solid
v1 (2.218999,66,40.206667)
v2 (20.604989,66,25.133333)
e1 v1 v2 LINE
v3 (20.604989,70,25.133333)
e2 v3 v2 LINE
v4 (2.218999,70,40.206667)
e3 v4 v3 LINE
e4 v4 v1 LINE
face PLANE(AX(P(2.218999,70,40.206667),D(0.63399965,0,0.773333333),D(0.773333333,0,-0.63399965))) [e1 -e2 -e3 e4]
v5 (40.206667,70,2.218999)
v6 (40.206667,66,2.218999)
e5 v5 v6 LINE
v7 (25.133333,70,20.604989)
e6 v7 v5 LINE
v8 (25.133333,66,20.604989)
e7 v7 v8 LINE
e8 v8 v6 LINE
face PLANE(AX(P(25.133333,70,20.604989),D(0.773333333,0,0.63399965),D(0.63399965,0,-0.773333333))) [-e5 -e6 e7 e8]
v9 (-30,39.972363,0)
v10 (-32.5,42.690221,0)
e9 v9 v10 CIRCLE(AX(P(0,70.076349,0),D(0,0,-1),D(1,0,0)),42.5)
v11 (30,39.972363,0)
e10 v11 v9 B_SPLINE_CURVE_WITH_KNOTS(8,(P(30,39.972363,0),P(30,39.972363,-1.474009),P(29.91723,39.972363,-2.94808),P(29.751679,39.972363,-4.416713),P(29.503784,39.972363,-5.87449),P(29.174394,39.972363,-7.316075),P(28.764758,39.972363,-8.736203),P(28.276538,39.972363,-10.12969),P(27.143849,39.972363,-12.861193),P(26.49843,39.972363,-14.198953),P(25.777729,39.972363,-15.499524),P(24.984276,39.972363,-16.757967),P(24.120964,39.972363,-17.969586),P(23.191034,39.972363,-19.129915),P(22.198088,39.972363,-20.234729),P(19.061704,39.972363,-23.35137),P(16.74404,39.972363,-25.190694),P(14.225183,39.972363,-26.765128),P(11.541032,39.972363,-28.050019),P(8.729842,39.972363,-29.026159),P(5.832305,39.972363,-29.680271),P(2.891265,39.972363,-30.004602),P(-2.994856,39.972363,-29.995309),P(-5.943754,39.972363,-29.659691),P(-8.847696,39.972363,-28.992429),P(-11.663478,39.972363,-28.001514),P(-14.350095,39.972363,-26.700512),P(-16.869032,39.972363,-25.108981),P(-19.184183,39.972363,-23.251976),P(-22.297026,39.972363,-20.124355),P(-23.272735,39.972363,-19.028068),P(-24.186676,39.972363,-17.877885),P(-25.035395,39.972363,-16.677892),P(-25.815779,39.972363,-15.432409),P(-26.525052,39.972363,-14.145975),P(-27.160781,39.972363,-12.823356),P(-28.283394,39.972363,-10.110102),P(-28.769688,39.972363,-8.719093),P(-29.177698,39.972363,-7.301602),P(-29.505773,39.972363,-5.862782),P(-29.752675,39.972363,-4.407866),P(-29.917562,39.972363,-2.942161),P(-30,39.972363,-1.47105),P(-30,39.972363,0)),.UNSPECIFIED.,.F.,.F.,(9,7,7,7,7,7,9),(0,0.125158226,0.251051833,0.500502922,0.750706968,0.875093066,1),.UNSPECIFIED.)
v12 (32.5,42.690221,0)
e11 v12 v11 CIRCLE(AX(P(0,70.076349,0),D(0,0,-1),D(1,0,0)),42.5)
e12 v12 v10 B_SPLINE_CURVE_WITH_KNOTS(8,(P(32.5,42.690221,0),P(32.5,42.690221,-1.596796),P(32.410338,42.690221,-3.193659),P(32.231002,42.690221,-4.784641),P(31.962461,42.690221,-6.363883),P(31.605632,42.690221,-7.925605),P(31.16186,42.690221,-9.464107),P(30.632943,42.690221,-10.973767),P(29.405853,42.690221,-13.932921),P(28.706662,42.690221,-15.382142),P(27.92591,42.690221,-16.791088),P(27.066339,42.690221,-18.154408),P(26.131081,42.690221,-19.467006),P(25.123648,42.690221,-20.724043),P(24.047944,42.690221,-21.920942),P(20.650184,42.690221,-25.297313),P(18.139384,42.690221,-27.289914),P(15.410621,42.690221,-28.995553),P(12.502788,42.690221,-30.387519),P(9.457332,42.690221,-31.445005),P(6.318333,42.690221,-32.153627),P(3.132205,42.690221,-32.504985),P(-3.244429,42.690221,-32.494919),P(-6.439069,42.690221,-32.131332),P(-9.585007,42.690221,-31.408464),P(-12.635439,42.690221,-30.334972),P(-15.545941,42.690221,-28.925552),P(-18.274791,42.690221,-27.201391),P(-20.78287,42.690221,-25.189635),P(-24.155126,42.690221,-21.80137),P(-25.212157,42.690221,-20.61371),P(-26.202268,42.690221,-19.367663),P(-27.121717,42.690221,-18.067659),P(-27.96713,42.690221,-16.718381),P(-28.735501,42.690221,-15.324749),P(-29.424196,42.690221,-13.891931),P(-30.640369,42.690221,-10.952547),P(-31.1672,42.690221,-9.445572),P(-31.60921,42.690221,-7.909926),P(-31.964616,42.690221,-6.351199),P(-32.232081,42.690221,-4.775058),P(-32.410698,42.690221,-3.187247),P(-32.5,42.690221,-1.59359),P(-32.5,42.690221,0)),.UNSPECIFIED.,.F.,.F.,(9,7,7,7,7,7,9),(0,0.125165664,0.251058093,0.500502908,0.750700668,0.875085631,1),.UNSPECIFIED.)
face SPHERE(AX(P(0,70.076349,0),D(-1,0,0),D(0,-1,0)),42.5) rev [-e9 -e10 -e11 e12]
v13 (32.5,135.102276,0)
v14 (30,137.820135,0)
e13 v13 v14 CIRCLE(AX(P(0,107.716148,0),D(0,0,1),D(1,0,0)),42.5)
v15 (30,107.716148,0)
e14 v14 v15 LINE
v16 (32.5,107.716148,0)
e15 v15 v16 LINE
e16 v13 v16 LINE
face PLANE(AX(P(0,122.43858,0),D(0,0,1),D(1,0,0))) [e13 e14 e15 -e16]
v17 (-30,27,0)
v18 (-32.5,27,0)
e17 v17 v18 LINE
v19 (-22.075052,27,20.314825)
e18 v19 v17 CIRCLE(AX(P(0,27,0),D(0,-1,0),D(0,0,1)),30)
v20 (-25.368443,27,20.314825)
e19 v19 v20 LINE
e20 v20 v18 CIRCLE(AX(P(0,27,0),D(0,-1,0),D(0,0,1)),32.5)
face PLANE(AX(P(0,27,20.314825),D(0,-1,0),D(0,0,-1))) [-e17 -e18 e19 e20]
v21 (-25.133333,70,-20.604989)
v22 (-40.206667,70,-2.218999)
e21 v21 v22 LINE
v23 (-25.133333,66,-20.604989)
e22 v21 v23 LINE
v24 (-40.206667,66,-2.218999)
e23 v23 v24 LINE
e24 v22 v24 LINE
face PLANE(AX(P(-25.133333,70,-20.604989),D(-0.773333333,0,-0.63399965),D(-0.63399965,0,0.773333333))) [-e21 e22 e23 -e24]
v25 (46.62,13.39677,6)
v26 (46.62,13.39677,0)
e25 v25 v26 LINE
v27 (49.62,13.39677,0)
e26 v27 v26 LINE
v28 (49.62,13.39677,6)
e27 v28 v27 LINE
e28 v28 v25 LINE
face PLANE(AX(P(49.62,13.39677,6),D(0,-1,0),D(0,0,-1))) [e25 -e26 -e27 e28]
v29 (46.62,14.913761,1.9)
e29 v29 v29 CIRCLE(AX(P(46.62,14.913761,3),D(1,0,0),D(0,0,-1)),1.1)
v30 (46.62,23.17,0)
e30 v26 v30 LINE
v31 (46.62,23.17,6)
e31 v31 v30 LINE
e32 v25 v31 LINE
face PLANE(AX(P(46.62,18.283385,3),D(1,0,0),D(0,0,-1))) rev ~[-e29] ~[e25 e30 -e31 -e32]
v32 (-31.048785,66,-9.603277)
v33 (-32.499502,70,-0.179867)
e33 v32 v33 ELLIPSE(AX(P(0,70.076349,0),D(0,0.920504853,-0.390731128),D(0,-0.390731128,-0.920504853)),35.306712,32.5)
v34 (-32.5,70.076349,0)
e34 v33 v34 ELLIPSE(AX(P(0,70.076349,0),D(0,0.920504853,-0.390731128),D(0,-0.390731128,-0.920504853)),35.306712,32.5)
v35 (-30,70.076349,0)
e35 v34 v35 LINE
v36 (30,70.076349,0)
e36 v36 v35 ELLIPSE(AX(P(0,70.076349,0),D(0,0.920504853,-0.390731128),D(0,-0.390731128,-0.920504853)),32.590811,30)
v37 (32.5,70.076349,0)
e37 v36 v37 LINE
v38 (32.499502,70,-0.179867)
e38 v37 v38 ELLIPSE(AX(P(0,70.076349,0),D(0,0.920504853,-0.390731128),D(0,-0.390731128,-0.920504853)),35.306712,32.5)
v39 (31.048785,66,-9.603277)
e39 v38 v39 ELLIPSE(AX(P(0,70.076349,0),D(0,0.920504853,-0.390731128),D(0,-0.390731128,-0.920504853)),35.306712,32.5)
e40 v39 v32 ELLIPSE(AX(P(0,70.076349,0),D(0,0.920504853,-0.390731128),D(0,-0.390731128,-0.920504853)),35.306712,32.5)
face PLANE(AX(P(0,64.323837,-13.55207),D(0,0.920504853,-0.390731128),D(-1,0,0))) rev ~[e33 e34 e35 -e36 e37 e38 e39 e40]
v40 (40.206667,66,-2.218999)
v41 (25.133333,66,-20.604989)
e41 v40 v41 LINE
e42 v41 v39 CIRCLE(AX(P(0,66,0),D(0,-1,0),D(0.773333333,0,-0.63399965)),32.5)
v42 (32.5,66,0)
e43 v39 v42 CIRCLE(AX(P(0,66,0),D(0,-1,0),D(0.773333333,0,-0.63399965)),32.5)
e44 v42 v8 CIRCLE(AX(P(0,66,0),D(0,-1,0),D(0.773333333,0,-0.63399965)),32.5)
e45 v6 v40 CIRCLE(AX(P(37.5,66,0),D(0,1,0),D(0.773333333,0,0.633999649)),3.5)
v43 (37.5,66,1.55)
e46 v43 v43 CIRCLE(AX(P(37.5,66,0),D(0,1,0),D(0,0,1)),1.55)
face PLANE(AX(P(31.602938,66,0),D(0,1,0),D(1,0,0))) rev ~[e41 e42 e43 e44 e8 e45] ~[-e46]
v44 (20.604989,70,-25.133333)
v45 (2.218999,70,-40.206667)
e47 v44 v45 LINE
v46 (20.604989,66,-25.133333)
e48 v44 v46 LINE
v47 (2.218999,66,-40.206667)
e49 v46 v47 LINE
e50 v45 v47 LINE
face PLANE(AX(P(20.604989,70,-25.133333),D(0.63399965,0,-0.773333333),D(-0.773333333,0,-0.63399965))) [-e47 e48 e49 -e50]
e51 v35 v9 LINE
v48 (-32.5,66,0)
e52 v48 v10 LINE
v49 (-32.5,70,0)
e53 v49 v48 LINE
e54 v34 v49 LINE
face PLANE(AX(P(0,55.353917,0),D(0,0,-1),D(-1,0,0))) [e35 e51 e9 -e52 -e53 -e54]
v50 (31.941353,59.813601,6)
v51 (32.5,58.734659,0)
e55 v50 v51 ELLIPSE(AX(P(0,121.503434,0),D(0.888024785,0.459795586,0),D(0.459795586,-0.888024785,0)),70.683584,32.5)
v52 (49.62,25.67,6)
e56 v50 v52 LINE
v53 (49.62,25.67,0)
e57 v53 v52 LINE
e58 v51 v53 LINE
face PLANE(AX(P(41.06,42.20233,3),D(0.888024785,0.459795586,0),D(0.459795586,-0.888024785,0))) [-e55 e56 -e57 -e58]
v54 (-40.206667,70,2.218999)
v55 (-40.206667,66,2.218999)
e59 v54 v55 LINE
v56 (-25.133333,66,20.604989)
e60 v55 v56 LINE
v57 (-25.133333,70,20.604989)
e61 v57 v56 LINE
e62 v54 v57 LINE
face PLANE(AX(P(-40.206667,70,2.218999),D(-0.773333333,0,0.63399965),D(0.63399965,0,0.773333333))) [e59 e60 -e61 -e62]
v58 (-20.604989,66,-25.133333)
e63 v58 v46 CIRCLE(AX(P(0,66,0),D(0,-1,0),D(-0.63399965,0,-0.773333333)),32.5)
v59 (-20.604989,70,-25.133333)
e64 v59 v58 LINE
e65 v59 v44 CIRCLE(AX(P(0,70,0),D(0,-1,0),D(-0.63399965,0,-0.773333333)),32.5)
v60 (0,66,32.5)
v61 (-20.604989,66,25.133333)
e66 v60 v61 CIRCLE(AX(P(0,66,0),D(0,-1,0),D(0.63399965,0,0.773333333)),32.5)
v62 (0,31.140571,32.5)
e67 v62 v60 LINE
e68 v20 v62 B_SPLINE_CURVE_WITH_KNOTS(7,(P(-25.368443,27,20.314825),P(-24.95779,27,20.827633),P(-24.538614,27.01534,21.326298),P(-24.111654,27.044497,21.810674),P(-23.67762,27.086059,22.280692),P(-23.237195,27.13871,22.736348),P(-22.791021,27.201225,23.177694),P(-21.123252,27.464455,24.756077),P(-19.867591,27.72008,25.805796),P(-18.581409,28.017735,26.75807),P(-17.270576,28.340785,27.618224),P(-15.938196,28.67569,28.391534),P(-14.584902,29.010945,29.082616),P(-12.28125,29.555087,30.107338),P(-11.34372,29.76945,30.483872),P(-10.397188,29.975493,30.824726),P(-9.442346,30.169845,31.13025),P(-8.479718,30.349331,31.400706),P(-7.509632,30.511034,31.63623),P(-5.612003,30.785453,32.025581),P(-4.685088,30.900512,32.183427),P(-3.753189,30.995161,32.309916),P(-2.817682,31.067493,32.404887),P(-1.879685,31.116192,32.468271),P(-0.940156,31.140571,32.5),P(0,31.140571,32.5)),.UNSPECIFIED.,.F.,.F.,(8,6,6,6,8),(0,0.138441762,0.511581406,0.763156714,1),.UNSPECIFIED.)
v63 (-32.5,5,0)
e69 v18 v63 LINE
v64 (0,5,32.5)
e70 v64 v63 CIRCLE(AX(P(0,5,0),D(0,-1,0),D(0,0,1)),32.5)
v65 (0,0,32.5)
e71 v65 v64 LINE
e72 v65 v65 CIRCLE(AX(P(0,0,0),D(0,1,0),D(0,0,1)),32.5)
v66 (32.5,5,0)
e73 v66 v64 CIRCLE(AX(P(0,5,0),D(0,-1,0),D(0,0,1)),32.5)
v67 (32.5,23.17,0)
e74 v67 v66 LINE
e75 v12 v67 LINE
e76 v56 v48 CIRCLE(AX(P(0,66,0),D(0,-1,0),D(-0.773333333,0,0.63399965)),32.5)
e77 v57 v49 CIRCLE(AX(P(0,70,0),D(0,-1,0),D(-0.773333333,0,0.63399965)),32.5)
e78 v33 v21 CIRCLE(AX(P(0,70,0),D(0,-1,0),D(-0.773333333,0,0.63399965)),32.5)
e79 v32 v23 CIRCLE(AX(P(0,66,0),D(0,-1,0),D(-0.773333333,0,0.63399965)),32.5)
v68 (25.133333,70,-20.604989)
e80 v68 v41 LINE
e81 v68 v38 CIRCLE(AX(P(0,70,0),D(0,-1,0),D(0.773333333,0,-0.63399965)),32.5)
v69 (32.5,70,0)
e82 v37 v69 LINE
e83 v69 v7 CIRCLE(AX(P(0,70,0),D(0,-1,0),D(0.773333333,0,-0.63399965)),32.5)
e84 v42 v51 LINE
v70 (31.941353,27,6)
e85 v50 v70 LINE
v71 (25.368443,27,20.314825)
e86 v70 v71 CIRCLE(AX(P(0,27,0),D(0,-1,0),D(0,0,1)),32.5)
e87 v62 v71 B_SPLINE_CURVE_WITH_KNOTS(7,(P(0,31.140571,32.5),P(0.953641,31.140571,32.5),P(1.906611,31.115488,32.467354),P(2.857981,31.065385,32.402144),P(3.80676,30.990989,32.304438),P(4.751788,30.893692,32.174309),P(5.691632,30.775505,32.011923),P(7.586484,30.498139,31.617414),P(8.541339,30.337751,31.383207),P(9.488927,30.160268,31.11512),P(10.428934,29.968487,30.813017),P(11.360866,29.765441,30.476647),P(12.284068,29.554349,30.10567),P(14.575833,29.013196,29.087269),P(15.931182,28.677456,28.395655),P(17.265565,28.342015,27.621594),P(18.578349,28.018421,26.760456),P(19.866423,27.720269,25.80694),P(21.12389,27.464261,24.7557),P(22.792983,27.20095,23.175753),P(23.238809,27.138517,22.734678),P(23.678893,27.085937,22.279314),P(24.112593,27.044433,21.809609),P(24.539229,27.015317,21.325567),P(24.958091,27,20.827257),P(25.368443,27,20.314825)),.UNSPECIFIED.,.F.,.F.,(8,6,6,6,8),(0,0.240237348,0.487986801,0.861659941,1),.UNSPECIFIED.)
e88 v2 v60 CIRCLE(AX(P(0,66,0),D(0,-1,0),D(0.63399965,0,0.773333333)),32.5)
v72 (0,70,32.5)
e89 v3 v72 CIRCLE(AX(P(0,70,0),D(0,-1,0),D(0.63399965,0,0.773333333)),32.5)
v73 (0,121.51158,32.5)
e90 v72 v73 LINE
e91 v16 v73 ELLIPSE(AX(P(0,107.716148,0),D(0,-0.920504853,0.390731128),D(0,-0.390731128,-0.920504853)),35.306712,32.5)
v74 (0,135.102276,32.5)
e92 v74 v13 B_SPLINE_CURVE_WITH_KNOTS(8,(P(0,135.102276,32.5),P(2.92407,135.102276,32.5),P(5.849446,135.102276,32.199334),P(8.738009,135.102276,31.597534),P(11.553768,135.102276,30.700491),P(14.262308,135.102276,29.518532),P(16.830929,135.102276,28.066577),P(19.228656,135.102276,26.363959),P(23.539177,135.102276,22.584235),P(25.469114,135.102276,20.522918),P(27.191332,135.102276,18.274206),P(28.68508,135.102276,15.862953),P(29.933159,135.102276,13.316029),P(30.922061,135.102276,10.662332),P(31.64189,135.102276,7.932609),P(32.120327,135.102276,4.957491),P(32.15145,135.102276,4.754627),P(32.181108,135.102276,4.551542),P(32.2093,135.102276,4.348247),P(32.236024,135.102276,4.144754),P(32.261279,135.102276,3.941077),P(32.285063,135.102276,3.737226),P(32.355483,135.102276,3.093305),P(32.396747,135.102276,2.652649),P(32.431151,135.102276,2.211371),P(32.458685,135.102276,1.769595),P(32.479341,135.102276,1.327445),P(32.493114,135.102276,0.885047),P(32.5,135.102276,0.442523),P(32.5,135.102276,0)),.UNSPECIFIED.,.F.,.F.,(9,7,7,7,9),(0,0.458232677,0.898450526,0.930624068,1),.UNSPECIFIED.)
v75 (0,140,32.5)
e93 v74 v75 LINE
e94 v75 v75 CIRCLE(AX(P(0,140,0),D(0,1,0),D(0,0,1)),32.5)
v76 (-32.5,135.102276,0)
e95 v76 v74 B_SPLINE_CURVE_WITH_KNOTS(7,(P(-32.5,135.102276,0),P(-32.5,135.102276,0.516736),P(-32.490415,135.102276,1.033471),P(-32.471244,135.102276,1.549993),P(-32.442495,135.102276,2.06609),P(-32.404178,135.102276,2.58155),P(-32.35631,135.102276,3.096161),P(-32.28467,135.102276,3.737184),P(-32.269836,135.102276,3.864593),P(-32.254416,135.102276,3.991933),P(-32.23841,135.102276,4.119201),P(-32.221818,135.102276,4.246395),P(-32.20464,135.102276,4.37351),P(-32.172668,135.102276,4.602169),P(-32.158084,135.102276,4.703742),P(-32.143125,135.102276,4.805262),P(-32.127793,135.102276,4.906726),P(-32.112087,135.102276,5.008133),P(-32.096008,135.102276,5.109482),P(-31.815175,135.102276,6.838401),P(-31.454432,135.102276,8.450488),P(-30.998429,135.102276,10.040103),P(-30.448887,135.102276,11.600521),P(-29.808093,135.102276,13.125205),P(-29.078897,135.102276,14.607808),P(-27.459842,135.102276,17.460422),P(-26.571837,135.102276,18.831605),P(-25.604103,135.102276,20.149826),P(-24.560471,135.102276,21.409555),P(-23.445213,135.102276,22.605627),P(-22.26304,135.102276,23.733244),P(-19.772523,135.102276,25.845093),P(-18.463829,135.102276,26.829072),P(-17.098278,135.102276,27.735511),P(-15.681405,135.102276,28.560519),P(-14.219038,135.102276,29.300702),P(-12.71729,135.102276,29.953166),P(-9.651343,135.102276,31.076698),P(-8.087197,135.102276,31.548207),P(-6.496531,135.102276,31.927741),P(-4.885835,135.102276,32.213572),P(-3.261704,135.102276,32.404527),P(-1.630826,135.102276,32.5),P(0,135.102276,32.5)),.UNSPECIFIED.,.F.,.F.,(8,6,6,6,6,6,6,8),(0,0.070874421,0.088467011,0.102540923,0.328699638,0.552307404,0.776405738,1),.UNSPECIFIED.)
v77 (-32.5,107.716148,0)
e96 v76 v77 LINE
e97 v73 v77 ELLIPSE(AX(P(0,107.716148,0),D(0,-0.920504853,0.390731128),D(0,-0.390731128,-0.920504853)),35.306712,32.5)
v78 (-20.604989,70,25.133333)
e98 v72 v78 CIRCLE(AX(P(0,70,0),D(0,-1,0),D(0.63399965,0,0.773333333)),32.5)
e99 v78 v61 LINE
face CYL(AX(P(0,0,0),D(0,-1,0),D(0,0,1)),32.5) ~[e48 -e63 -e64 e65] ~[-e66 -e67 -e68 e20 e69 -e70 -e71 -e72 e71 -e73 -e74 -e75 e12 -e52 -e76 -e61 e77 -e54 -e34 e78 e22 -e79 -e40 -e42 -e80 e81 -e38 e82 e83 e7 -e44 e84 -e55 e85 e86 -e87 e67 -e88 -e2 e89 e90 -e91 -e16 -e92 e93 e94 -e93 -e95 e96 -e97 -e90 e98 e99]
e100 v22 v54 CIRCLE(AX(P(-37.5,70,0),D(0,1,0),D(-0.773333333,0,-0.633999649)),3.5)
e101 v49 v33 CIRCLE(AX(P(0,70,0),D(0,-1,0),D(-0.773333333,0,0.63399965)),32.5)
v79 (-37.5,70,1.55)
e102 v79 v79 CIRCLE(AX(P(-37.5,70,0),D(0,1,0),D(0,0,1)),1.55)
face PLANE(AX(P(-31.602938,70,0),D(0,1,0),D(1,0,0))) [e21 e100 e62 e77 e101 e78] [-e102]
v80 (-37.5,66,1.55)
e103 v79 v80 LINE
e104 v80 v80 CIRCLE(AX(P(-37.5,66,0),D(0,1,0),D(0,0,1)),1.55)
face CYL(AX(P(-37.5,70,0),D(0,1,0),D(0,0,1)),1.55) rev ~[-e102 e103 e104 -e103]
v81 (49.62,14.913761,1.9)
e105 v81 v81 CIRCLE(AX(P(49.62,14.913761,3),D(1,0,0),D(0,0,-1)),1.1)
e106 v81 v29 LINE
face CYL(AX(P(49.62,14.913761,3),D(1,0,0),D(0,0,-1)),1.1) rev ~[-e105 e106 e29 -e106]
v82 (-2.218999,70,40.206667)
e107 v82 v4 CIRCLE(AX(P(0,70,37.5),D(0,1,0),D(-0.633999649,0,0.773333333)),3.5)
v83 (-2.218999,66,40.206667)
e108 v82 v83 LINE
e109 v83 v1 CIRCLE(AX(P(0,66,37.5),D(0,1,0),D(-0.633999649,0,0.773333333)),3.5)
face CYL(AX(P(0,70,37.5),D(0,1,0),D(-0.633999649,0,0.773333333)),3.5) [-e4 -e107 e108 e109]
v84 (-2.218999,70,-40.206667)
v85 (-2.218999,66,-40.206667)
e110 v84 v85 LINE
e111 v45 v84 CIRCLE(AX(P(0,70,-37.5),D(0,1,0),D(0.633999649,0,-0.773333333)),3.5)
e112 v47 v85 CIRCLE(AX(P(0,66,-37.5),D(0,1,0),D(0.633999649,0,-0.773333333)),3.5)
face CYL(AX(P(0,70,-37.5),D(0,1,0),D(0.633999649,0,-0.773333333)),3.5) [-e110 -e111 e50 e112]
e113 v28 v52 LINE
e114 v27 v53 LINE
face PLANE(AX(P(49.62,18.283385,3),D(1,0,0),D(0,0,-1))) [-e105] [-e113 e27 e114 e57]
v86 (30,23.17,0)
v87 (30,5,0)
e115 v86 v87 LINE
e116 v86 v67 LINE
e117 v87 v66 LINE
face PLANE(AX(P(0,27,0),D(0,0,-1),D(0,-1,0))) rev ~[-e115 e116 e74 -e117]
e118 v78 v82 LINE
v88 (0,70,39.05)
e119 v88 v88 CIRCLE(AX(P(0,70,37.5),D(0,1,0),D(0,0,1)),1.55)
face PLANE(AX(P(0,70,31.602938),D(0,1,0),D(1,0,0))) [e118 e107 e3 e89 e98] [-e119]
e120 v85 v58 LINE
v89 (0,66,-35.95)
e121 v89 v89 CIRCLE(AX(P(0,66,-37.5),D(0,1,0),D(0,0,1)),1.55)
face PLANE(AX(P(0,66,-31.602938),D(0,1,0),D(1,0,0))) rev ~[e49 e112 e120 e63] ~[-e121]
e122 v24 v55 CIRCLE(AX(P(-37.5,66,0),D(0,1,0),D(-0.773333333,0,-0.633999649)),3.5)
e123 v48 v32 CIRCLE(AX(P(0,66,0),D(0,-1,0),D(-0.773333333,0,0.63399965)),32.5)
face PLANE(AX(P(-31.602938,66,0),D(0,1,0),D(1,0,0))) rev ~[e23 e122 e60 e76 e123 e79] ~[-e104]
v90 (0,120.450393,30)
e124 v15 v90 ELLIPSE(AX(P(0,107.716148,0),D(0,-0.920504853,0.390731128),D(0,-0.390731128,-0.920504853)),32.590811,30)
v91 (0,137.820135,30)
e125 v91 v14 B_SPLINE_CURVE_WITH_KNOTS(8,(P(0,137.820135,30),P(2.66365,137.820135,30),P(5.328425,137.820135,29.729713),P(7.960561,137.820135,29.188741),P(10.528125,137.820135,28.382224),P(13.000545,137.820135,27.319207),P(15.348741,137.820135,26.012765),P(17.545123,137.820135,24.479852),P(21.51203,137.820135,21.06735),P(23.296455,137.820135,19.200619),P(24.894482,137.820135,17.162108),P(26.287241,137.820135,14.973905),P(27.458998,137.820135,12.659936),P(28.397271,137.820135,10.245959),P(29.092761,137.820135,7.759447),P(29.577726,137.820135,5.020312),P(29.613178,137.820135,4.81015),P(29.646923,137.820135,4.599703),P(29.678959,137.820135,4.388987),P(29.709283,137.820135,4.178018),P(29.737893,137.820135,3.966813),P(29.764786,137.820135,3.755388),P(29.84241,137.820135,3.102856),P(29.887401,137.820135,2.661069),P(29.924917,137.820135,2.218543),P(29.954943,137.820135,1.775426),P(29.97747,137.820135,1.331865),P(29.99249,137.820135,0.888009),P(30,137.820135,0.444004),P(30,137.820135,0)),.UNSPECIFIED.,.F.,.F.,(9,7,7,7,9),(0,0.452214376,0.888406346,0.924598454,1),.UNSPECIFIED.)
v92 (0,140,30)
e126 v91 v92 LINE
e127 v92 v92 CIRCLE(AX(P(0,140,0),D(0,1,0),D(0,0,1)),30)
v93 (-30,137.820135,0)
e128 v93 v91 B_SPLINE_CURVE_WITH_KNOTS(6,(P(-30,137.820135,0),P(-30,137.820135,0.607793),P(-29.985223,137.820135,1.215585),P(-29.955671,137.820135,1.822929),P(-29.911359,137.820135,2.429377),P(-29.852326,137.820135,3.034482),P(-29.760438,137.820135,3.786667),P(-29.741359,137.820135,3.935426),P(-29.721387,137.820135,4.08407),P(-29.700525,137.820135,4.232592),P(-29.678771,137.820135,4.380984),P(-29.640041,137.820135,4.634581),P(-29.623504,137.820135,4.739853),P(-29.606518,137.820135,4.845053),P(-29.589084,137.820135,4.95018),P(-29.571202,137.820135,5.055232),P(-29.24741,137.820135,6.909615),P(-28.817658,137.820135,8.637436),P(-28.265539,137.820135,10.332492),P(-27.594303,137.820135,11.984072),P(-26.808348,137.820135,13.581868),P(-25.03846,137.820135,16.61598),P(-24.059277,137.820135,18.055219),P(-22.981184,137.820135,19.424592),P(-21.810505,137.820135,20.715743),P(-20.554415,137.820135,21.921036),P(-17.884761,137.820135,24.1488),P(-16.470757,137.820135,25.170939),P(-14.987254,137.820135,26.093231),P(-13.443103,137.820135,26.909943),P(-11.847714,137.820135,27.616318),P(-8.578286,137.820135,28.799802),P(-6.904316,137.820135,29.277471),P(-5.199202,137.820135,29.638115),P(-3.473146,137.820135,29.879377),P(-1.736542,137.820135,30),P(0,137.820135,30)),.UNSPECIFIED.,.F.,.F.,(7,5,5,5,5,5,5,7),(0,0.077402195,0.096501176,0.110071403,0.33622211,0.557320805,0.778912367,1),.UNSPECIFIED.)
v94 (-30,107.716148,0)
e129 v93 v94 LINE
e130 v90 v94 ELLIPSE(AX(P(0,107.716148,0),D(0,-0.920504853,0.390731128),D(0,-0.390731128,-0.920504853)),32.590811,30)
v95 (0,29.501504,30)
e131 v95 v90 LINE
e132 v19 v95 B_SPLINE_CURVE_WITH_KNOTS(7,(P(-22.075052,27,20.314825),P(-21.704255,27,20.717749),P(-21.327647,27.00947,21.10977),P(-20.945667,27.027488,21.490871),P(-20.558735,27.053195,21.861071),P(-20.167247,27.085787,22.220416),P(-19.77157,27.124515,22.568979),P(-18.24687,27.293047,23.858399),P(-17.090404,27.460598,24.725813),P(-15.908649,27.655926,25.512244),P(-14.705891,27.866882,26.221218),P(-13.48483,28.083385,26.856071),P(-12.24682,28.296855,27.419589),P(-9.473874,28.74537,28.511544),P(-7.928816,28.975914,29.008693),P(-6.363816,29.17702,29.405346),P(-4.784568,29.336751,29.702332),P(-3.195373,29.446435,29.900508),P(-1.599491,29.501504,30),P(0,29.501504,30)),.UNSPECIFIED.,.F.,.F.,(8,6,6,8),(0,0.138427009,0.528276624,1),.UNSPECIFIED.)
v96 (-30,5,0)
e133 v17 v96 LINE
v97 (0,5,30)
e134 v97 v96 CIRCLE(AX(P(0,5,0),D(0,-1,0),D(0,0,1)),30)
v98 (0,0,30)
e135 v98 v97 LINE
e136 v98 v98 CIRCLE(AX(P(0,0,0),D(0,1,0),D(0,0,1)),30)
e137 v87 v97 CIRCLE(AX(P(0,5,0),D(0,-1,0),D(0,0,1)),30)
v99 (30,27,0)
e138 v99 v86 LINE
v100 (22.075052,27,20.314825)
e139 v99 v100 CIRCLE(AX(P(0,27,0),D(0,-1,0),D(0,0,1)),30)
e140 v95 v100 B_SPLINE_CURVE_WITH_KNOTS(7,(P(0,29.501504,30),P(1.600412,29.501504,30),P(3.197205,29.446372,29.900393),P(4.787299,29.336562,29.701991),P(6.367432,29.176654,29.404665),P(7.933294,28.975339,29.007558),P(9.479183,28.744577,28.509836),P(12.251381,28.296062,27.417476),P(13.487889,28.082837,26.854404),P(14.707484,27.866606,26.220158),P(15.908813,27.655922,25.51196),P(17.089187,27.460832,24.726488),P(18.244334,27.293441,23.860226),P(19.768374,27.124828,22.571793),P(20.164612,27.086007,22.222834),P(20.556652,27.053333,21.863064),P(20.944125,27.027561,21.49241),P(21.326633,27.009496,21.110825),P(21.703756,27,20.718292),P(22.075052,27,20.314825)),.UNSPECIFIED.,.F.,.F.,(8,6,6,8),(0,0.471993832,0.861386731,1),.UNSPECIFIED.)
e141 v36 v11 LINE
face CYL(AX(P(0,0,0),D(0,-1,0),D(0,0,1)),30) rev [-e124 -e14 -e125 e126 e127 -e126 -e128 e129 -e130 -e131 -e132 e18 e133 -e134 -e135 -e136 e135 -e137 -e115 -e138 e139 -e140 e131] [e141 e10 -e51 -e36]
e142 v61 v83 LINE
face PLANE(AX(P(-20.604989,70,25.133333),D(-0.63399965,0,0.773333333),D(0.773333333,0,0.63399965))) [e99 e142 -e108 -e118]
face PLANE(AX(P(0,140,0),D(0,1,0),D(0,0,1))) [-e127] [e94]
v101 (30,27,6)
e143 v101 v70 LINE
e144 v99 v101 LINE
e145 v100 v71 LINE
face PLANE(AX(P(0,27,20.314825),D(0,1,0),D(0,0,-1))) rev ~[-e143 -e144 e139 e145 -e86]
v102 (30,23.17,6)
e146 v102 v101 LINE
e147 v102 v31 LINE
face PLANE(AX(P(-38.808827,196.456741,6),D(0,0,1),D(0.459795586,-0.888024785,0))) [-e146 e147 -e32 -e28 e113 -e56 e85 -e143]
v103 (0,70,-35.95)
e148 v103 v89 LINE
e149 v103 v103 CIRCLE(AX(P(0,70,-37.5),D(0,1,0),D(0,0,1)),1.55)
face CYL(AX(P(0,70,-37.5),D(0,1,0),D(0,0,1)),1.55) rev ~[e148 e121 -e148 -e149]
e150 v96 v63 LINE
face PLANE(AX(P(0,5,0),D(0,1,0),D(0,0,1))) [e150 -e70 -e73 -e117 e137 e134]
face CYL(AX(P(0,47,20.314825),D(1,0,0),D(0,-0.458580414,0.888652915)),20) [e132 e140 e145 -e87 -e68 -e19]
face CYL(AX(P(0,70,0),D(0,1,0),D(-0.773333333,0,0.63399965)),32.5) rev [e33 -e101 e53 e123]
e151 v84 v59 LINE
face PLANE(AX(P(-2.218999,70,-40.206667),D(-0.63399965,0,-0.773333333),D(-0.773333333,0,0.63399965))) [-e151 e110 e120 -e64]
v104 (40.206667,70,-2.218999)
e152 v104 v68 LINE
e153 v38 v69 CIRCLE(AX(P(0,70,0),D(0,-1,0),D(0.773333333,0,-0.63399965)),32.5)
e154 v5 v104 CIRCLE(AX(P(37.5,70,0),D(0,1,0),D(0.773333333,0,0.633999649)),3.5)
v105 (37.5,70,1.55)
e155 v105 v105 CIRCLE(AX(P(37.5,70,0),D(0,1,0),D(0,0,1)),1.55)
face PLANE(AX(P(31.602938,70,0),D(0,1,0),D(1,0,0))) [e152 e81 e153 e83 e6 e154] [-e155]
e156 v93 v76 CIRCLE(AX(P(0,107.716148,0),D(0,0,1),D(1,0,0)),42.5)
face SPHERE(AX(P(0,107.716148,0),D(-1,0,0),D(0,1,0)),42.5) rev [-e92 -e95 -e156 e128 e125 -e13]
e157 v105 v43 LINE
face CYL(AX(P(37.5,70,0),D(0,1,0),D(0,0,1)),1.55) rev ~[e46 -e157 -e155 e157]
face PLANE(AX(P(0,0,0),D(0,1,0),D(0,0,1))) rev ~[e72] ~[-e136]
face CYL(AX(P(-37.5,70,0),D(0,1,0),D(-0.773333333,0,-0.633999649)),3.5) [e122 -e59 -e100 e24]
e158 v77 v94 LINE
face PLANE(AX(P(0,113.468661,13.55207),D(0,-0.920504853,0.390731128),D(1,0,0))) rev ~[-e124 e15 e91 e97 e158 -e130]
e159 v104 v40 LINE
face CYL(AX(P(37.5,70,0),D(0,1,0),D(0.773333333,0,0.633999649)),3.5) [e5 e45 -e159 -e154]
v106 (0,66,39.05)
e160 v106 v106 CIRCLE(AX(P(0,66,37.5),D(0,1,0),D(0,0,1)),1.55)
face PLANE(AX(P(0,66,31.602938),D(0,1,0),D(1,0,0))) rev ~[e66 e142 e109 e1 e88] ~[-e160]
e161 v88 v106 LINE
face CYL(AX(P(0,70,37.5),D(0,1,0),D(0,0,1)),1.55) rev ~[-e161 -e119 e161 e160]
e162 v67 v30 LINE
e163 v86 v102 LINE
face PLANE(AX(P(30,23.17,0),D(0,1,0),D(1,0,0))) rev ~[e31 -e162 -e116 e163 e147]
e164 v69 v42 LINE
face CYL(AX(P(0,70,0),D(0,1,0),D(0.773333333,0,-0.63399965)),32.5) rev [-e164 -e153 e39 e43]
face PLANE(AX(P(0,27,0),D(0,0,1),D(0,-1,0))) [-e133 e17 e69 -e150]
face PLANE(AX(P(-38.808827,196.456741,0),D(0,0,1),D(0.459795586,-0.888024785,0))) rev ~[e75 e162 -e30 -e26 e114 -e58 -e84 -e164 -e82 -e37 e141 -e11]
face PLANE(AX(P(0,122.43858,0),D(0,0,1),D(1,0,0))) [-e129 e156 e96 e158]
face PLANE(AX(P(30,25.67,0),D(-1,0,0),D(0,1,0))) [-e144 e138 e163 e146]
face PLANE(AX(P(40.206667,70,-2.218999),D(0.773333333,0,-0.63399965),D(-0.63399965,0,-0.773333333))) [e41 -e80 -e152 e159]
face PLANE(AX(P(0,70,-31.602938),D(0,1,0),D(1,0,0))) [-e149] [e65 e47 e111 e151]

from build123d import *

# Parameters (mm, degrees)
SKETCH1_R               = 32.5
SKETCH1_R_2             = 30
BOSS_EXTRUDE1_DEPTH     = 140
CUT_REVOLVE1_ANGLE      = 67
CUT_REVOLVE2_ANGLE      = 67
CUT_EXTRUDE1_DEPTH      = 58
CUT_EXTRUDE1_DEPTH_BACK = 50
BOSS_EXTRUDE3_START     = -70
SKETCH4_R               = 1.55
BOSS_EXTRUDE3_DEPTH     = 4
SKETCH6_W               = 19.62
SKETCH6_H               = 2.5
BOSS_EXTRUDE4_DEPTH     = 6
SKETCH7_W               = 6
SKETCH7_H               = 9.773229536
BOSS_EXTRUDE6_DEPTH     = 3
SKETCH8_W               = 2.5
SKETCH8_H               = 1.33
BOSS_EXTRUDE7_DEPTH     = 6
SKETCH9_R               = 1.1
CUT_EXTRUDE2_DEPTH      = 7
RIB3_REACH              = 156.088
SKETCH11_WALL_W         = 347.41014935
SKETCH11_WALL_H         = 6


with BuildPart() as part:
    # Sketch1 → Boss-Extrude1 (new body)
    with BuildSketch(Plane(origin=(0, 0, 0), x_dir=(1, 0, 0), z_dir=(0, 1, 0))):
        with Locations(Location((0, 0, 0), (0, 0, 270))):
            Circle(SKETCH1_R)
        with Locations(Location((0, 0, 0), (0, 0, 270))):
            Circle(SKETCH1_R_2, mode=Mode.SUBTRACT)
    extrude(amount=BOSS_EXTRUDE1_DEPTH)

    # Sketch2 → Cut-Revolve1 (revolve, cut)
    with BuildSketch(Plane.XY):
        with BuildLine():
            Line((-42.5, 107.716148379), (42.5, 107.716148379))
            ThreePointArc((42.5, 107.716148379), (0, 150.216148379), (-42.5, 107.716148379))
        make_face()
    revolve(axis=Axis((-42.5, 107.716148379, 0), (1, 0, 0)), revolution_arc=CUT_REVOLVE1_ANGLE, mode=Mode.SUBTRACT)

    # Sketch3 → Cut-Revolve2 (revolve, cut)
    with BuildSketch(Plane.XY):
        with BuildLine():
            Line((-42.5, 70.076349177), (42.5, 70.076349177))
            ThreePointArc((42.5, 70.076349177), (0, 27.576349177), (-42.5, 70.076349177))
        make_face()
    revolve(axis=Axis((-42.5, 70.076349177, 0), (1, 0, 0)), revolution_arc=CUT_REVOLVE2_ANGLE, mode=Mode.SUBTRACT)

    # Sketch5 → Cut-Extrude1 (cut, two sides)
    with BuildSketch(Plane(origin=(0, 0, 0), x_dir=(0, 0, -1), z_dir=(1, 0, 0))) as cut_extrude1_sk:
        with BuildLine():
            Line((-38.488633311, 38.604979811), (-38.087882821, 37.828391715))
            ThreePointArc((-38.087882821, 37.828391715), (-30.720780367, 29.920302027), (-20.314824517, 27))
            Line((-20.314824517, 27), (-19.990167054, 27))
            Line((-19.990167054, 27), (0, 27))
            Line((0, 27), (0, 5))
            Line((0, 5), (-38.488633311, 5))
            Line((-38.488633311, 5), (-38.488633311, 38.604979811))
        make_face()
    extrude(amount=CUT_EXTRUDE1_DEPTH, mode=Mode.SUBTRACT)
    extrude(cut_extrude1_sk.sketch, amount=-CUT_EXTRUDE1_DEPTH_BACK, mode=Mode.SUBTRACT)

    # Sketch4 → Boss-Extrude3 (add)
    with BuildSketch(Plane(origin=(0, 140, 0), x_dir=(1, 0, 0), z_dir=(0, 1, 0)).offset(BOSS_EXTRUDE3_START)):
        with BuildLine():
            Line((-2.218998773, 40.206666667), (-20.604988608, 25.133333333))
            ThreePointArc((-20.604988608, 25.133333333), (0, 32.5), (20.604988608, 25.133333333))
            Line((20.604988608, 25.133333333), (2.218998773, 40.206666667))
            ThreePointArc((2.218998773, 40.206666667), (0, 41), (-2.218998773, 40.206666667))
        make_face()
        with Locations(Location((0, 37.5, 0), (0, 0, 270))):
            Circle(SKETCH4_R, mode=Mode.SUBTRACT)
        with BuildLine():
            ThreePointArc((-25.133333333, -20.604988608), (-32.5, 0), (-25.133333333, 20.604988608))
            Line((-25.133333333, 20.604988608), (-40.206666667, 2.218998773))
            ThreePointArc((-40.206666667, 2.218998773), (-41, 0), (-40.206666667, -2.218998773))
            Line((-40.206666667, -2.218998773), (-25.133333333, -20.604988608))
        make_face()
        with Locations(Location((-37.5, 0, 0), (0, 0, 270))):
            Circle(SKETCH4_R, mode=Mode.SUBTRACT)
        with BuildLine():
            Line((40.206666667, 2.218998773), (25.133333333, 20.604988608))
            ThreePointArc((25.133333333, 20.604988608), (32.5, 0), (25.133333333, -20.604988608))
            Line((25.133333333, -20.604988608), (40.206666667, -2.218998773))
            ThreePointArc((40.206666667, -2.218998773), (41, 0), (40.206666667, 2.218998773))
        make_face()
        with Locations(Location((37.5, 0, 0), (0, 0, 270))):
            Circle(SKETCH4_R, mode=Mode.SUBTRACT)
        with BuildLine():
            ThreePointArc((20.604988608, -25.133333333), (0, -32.5), (-20.604988608, -25.133333333))
            Line((-20.604988608, -25.133333333), (-2.218998773, -40.206666667))
            ThreePointArc((-2.218998773, -40.206666667), (0, -41), (2.218998773, -40.206666667))
            Line((2.218998773, -40.206666667), (20.604988608, -25.133333333))
        make_face()
        with Locations(Location((0, -37.5, 0), (0, 0, 270))):
            Circle(SKETCH4_R, mode=Mode.SUBTRACT)
    extrude(amount=-BOSS_EXTRUDE3_DEPTH)

    # Sketch6 → Boss-Extrude4 (add)
    with BuildSketch(Plane.XY):
        with Locations((39.81, 24.42)):
            Rectangle(SKETCH6_W, SKETCH6_H)
    extrude(amount=BOSS_EXTRUDE4_DEPTH)

    # Sketch7 → Boss-Extrude6 (add)
    with BuildSketch(Plane(origin=(49.62, 0, 0), x_dir=(0, 0, -1), z_dir=(1, 0, 0))):
        with Locations((-3, 18.283385232)):
            Rectangle(SKETCH7_W, SKETCH7_H)
    extrude(amount=-BOSS_EXTRUDE6_DEPTH)

    # Sketch8 → Boss-Extrude7 (add)
    with BuildSketch(Plane.XY):
        Polygon((49.62, 25.67), (32.5, 25.67), (32.5, 27), align=None)
        with Locations((31.25, 26.335)):
            Rectangle(SKETCH8_W, SKETCH8_H)
    extrude(amount=BOSS_EXTRUDE7_DEPTH)

    # Sketch9 → Cut-Extrude2 (cut)
    with BuildSketch(Plane(origin=(49.62, 0, 0), x_dir=(0, 0, -1), z_dir=(1, 0, 0))):
        with Locations((-3, 14.913761398)):
            Circle(SKETCH9_R)
    extrude(amount=-CUT_EXTRUDE2_DEPTH, mode=Mode.SUBTRACT)

    # Sketch11 wall → Rib3 (add, up to next)
    with BuildSketch(Plane(origin=(41.06, 42.202329556, 0), x_dir=(0.459795586238, -0.888024785057, 0), z_dir=(0.888024785057, 0.459795586238, 0)), mode=Mode.PRIVATE) as rib3_sk1:
        with Locations((0, -3)):
            Rectangle(SKETCH11_WALL_W, SKETCH11_WALL_H)
    rib3_tool1 = extrude(rib3_sk1.sketch, amount=-RIB3_REACH, mode=Mode.PRIVATE) - part.part
    add(rib3_tool1.solids().sort_by_distance((41.06, 42.202329556, 0))[0])


solid = part.part
